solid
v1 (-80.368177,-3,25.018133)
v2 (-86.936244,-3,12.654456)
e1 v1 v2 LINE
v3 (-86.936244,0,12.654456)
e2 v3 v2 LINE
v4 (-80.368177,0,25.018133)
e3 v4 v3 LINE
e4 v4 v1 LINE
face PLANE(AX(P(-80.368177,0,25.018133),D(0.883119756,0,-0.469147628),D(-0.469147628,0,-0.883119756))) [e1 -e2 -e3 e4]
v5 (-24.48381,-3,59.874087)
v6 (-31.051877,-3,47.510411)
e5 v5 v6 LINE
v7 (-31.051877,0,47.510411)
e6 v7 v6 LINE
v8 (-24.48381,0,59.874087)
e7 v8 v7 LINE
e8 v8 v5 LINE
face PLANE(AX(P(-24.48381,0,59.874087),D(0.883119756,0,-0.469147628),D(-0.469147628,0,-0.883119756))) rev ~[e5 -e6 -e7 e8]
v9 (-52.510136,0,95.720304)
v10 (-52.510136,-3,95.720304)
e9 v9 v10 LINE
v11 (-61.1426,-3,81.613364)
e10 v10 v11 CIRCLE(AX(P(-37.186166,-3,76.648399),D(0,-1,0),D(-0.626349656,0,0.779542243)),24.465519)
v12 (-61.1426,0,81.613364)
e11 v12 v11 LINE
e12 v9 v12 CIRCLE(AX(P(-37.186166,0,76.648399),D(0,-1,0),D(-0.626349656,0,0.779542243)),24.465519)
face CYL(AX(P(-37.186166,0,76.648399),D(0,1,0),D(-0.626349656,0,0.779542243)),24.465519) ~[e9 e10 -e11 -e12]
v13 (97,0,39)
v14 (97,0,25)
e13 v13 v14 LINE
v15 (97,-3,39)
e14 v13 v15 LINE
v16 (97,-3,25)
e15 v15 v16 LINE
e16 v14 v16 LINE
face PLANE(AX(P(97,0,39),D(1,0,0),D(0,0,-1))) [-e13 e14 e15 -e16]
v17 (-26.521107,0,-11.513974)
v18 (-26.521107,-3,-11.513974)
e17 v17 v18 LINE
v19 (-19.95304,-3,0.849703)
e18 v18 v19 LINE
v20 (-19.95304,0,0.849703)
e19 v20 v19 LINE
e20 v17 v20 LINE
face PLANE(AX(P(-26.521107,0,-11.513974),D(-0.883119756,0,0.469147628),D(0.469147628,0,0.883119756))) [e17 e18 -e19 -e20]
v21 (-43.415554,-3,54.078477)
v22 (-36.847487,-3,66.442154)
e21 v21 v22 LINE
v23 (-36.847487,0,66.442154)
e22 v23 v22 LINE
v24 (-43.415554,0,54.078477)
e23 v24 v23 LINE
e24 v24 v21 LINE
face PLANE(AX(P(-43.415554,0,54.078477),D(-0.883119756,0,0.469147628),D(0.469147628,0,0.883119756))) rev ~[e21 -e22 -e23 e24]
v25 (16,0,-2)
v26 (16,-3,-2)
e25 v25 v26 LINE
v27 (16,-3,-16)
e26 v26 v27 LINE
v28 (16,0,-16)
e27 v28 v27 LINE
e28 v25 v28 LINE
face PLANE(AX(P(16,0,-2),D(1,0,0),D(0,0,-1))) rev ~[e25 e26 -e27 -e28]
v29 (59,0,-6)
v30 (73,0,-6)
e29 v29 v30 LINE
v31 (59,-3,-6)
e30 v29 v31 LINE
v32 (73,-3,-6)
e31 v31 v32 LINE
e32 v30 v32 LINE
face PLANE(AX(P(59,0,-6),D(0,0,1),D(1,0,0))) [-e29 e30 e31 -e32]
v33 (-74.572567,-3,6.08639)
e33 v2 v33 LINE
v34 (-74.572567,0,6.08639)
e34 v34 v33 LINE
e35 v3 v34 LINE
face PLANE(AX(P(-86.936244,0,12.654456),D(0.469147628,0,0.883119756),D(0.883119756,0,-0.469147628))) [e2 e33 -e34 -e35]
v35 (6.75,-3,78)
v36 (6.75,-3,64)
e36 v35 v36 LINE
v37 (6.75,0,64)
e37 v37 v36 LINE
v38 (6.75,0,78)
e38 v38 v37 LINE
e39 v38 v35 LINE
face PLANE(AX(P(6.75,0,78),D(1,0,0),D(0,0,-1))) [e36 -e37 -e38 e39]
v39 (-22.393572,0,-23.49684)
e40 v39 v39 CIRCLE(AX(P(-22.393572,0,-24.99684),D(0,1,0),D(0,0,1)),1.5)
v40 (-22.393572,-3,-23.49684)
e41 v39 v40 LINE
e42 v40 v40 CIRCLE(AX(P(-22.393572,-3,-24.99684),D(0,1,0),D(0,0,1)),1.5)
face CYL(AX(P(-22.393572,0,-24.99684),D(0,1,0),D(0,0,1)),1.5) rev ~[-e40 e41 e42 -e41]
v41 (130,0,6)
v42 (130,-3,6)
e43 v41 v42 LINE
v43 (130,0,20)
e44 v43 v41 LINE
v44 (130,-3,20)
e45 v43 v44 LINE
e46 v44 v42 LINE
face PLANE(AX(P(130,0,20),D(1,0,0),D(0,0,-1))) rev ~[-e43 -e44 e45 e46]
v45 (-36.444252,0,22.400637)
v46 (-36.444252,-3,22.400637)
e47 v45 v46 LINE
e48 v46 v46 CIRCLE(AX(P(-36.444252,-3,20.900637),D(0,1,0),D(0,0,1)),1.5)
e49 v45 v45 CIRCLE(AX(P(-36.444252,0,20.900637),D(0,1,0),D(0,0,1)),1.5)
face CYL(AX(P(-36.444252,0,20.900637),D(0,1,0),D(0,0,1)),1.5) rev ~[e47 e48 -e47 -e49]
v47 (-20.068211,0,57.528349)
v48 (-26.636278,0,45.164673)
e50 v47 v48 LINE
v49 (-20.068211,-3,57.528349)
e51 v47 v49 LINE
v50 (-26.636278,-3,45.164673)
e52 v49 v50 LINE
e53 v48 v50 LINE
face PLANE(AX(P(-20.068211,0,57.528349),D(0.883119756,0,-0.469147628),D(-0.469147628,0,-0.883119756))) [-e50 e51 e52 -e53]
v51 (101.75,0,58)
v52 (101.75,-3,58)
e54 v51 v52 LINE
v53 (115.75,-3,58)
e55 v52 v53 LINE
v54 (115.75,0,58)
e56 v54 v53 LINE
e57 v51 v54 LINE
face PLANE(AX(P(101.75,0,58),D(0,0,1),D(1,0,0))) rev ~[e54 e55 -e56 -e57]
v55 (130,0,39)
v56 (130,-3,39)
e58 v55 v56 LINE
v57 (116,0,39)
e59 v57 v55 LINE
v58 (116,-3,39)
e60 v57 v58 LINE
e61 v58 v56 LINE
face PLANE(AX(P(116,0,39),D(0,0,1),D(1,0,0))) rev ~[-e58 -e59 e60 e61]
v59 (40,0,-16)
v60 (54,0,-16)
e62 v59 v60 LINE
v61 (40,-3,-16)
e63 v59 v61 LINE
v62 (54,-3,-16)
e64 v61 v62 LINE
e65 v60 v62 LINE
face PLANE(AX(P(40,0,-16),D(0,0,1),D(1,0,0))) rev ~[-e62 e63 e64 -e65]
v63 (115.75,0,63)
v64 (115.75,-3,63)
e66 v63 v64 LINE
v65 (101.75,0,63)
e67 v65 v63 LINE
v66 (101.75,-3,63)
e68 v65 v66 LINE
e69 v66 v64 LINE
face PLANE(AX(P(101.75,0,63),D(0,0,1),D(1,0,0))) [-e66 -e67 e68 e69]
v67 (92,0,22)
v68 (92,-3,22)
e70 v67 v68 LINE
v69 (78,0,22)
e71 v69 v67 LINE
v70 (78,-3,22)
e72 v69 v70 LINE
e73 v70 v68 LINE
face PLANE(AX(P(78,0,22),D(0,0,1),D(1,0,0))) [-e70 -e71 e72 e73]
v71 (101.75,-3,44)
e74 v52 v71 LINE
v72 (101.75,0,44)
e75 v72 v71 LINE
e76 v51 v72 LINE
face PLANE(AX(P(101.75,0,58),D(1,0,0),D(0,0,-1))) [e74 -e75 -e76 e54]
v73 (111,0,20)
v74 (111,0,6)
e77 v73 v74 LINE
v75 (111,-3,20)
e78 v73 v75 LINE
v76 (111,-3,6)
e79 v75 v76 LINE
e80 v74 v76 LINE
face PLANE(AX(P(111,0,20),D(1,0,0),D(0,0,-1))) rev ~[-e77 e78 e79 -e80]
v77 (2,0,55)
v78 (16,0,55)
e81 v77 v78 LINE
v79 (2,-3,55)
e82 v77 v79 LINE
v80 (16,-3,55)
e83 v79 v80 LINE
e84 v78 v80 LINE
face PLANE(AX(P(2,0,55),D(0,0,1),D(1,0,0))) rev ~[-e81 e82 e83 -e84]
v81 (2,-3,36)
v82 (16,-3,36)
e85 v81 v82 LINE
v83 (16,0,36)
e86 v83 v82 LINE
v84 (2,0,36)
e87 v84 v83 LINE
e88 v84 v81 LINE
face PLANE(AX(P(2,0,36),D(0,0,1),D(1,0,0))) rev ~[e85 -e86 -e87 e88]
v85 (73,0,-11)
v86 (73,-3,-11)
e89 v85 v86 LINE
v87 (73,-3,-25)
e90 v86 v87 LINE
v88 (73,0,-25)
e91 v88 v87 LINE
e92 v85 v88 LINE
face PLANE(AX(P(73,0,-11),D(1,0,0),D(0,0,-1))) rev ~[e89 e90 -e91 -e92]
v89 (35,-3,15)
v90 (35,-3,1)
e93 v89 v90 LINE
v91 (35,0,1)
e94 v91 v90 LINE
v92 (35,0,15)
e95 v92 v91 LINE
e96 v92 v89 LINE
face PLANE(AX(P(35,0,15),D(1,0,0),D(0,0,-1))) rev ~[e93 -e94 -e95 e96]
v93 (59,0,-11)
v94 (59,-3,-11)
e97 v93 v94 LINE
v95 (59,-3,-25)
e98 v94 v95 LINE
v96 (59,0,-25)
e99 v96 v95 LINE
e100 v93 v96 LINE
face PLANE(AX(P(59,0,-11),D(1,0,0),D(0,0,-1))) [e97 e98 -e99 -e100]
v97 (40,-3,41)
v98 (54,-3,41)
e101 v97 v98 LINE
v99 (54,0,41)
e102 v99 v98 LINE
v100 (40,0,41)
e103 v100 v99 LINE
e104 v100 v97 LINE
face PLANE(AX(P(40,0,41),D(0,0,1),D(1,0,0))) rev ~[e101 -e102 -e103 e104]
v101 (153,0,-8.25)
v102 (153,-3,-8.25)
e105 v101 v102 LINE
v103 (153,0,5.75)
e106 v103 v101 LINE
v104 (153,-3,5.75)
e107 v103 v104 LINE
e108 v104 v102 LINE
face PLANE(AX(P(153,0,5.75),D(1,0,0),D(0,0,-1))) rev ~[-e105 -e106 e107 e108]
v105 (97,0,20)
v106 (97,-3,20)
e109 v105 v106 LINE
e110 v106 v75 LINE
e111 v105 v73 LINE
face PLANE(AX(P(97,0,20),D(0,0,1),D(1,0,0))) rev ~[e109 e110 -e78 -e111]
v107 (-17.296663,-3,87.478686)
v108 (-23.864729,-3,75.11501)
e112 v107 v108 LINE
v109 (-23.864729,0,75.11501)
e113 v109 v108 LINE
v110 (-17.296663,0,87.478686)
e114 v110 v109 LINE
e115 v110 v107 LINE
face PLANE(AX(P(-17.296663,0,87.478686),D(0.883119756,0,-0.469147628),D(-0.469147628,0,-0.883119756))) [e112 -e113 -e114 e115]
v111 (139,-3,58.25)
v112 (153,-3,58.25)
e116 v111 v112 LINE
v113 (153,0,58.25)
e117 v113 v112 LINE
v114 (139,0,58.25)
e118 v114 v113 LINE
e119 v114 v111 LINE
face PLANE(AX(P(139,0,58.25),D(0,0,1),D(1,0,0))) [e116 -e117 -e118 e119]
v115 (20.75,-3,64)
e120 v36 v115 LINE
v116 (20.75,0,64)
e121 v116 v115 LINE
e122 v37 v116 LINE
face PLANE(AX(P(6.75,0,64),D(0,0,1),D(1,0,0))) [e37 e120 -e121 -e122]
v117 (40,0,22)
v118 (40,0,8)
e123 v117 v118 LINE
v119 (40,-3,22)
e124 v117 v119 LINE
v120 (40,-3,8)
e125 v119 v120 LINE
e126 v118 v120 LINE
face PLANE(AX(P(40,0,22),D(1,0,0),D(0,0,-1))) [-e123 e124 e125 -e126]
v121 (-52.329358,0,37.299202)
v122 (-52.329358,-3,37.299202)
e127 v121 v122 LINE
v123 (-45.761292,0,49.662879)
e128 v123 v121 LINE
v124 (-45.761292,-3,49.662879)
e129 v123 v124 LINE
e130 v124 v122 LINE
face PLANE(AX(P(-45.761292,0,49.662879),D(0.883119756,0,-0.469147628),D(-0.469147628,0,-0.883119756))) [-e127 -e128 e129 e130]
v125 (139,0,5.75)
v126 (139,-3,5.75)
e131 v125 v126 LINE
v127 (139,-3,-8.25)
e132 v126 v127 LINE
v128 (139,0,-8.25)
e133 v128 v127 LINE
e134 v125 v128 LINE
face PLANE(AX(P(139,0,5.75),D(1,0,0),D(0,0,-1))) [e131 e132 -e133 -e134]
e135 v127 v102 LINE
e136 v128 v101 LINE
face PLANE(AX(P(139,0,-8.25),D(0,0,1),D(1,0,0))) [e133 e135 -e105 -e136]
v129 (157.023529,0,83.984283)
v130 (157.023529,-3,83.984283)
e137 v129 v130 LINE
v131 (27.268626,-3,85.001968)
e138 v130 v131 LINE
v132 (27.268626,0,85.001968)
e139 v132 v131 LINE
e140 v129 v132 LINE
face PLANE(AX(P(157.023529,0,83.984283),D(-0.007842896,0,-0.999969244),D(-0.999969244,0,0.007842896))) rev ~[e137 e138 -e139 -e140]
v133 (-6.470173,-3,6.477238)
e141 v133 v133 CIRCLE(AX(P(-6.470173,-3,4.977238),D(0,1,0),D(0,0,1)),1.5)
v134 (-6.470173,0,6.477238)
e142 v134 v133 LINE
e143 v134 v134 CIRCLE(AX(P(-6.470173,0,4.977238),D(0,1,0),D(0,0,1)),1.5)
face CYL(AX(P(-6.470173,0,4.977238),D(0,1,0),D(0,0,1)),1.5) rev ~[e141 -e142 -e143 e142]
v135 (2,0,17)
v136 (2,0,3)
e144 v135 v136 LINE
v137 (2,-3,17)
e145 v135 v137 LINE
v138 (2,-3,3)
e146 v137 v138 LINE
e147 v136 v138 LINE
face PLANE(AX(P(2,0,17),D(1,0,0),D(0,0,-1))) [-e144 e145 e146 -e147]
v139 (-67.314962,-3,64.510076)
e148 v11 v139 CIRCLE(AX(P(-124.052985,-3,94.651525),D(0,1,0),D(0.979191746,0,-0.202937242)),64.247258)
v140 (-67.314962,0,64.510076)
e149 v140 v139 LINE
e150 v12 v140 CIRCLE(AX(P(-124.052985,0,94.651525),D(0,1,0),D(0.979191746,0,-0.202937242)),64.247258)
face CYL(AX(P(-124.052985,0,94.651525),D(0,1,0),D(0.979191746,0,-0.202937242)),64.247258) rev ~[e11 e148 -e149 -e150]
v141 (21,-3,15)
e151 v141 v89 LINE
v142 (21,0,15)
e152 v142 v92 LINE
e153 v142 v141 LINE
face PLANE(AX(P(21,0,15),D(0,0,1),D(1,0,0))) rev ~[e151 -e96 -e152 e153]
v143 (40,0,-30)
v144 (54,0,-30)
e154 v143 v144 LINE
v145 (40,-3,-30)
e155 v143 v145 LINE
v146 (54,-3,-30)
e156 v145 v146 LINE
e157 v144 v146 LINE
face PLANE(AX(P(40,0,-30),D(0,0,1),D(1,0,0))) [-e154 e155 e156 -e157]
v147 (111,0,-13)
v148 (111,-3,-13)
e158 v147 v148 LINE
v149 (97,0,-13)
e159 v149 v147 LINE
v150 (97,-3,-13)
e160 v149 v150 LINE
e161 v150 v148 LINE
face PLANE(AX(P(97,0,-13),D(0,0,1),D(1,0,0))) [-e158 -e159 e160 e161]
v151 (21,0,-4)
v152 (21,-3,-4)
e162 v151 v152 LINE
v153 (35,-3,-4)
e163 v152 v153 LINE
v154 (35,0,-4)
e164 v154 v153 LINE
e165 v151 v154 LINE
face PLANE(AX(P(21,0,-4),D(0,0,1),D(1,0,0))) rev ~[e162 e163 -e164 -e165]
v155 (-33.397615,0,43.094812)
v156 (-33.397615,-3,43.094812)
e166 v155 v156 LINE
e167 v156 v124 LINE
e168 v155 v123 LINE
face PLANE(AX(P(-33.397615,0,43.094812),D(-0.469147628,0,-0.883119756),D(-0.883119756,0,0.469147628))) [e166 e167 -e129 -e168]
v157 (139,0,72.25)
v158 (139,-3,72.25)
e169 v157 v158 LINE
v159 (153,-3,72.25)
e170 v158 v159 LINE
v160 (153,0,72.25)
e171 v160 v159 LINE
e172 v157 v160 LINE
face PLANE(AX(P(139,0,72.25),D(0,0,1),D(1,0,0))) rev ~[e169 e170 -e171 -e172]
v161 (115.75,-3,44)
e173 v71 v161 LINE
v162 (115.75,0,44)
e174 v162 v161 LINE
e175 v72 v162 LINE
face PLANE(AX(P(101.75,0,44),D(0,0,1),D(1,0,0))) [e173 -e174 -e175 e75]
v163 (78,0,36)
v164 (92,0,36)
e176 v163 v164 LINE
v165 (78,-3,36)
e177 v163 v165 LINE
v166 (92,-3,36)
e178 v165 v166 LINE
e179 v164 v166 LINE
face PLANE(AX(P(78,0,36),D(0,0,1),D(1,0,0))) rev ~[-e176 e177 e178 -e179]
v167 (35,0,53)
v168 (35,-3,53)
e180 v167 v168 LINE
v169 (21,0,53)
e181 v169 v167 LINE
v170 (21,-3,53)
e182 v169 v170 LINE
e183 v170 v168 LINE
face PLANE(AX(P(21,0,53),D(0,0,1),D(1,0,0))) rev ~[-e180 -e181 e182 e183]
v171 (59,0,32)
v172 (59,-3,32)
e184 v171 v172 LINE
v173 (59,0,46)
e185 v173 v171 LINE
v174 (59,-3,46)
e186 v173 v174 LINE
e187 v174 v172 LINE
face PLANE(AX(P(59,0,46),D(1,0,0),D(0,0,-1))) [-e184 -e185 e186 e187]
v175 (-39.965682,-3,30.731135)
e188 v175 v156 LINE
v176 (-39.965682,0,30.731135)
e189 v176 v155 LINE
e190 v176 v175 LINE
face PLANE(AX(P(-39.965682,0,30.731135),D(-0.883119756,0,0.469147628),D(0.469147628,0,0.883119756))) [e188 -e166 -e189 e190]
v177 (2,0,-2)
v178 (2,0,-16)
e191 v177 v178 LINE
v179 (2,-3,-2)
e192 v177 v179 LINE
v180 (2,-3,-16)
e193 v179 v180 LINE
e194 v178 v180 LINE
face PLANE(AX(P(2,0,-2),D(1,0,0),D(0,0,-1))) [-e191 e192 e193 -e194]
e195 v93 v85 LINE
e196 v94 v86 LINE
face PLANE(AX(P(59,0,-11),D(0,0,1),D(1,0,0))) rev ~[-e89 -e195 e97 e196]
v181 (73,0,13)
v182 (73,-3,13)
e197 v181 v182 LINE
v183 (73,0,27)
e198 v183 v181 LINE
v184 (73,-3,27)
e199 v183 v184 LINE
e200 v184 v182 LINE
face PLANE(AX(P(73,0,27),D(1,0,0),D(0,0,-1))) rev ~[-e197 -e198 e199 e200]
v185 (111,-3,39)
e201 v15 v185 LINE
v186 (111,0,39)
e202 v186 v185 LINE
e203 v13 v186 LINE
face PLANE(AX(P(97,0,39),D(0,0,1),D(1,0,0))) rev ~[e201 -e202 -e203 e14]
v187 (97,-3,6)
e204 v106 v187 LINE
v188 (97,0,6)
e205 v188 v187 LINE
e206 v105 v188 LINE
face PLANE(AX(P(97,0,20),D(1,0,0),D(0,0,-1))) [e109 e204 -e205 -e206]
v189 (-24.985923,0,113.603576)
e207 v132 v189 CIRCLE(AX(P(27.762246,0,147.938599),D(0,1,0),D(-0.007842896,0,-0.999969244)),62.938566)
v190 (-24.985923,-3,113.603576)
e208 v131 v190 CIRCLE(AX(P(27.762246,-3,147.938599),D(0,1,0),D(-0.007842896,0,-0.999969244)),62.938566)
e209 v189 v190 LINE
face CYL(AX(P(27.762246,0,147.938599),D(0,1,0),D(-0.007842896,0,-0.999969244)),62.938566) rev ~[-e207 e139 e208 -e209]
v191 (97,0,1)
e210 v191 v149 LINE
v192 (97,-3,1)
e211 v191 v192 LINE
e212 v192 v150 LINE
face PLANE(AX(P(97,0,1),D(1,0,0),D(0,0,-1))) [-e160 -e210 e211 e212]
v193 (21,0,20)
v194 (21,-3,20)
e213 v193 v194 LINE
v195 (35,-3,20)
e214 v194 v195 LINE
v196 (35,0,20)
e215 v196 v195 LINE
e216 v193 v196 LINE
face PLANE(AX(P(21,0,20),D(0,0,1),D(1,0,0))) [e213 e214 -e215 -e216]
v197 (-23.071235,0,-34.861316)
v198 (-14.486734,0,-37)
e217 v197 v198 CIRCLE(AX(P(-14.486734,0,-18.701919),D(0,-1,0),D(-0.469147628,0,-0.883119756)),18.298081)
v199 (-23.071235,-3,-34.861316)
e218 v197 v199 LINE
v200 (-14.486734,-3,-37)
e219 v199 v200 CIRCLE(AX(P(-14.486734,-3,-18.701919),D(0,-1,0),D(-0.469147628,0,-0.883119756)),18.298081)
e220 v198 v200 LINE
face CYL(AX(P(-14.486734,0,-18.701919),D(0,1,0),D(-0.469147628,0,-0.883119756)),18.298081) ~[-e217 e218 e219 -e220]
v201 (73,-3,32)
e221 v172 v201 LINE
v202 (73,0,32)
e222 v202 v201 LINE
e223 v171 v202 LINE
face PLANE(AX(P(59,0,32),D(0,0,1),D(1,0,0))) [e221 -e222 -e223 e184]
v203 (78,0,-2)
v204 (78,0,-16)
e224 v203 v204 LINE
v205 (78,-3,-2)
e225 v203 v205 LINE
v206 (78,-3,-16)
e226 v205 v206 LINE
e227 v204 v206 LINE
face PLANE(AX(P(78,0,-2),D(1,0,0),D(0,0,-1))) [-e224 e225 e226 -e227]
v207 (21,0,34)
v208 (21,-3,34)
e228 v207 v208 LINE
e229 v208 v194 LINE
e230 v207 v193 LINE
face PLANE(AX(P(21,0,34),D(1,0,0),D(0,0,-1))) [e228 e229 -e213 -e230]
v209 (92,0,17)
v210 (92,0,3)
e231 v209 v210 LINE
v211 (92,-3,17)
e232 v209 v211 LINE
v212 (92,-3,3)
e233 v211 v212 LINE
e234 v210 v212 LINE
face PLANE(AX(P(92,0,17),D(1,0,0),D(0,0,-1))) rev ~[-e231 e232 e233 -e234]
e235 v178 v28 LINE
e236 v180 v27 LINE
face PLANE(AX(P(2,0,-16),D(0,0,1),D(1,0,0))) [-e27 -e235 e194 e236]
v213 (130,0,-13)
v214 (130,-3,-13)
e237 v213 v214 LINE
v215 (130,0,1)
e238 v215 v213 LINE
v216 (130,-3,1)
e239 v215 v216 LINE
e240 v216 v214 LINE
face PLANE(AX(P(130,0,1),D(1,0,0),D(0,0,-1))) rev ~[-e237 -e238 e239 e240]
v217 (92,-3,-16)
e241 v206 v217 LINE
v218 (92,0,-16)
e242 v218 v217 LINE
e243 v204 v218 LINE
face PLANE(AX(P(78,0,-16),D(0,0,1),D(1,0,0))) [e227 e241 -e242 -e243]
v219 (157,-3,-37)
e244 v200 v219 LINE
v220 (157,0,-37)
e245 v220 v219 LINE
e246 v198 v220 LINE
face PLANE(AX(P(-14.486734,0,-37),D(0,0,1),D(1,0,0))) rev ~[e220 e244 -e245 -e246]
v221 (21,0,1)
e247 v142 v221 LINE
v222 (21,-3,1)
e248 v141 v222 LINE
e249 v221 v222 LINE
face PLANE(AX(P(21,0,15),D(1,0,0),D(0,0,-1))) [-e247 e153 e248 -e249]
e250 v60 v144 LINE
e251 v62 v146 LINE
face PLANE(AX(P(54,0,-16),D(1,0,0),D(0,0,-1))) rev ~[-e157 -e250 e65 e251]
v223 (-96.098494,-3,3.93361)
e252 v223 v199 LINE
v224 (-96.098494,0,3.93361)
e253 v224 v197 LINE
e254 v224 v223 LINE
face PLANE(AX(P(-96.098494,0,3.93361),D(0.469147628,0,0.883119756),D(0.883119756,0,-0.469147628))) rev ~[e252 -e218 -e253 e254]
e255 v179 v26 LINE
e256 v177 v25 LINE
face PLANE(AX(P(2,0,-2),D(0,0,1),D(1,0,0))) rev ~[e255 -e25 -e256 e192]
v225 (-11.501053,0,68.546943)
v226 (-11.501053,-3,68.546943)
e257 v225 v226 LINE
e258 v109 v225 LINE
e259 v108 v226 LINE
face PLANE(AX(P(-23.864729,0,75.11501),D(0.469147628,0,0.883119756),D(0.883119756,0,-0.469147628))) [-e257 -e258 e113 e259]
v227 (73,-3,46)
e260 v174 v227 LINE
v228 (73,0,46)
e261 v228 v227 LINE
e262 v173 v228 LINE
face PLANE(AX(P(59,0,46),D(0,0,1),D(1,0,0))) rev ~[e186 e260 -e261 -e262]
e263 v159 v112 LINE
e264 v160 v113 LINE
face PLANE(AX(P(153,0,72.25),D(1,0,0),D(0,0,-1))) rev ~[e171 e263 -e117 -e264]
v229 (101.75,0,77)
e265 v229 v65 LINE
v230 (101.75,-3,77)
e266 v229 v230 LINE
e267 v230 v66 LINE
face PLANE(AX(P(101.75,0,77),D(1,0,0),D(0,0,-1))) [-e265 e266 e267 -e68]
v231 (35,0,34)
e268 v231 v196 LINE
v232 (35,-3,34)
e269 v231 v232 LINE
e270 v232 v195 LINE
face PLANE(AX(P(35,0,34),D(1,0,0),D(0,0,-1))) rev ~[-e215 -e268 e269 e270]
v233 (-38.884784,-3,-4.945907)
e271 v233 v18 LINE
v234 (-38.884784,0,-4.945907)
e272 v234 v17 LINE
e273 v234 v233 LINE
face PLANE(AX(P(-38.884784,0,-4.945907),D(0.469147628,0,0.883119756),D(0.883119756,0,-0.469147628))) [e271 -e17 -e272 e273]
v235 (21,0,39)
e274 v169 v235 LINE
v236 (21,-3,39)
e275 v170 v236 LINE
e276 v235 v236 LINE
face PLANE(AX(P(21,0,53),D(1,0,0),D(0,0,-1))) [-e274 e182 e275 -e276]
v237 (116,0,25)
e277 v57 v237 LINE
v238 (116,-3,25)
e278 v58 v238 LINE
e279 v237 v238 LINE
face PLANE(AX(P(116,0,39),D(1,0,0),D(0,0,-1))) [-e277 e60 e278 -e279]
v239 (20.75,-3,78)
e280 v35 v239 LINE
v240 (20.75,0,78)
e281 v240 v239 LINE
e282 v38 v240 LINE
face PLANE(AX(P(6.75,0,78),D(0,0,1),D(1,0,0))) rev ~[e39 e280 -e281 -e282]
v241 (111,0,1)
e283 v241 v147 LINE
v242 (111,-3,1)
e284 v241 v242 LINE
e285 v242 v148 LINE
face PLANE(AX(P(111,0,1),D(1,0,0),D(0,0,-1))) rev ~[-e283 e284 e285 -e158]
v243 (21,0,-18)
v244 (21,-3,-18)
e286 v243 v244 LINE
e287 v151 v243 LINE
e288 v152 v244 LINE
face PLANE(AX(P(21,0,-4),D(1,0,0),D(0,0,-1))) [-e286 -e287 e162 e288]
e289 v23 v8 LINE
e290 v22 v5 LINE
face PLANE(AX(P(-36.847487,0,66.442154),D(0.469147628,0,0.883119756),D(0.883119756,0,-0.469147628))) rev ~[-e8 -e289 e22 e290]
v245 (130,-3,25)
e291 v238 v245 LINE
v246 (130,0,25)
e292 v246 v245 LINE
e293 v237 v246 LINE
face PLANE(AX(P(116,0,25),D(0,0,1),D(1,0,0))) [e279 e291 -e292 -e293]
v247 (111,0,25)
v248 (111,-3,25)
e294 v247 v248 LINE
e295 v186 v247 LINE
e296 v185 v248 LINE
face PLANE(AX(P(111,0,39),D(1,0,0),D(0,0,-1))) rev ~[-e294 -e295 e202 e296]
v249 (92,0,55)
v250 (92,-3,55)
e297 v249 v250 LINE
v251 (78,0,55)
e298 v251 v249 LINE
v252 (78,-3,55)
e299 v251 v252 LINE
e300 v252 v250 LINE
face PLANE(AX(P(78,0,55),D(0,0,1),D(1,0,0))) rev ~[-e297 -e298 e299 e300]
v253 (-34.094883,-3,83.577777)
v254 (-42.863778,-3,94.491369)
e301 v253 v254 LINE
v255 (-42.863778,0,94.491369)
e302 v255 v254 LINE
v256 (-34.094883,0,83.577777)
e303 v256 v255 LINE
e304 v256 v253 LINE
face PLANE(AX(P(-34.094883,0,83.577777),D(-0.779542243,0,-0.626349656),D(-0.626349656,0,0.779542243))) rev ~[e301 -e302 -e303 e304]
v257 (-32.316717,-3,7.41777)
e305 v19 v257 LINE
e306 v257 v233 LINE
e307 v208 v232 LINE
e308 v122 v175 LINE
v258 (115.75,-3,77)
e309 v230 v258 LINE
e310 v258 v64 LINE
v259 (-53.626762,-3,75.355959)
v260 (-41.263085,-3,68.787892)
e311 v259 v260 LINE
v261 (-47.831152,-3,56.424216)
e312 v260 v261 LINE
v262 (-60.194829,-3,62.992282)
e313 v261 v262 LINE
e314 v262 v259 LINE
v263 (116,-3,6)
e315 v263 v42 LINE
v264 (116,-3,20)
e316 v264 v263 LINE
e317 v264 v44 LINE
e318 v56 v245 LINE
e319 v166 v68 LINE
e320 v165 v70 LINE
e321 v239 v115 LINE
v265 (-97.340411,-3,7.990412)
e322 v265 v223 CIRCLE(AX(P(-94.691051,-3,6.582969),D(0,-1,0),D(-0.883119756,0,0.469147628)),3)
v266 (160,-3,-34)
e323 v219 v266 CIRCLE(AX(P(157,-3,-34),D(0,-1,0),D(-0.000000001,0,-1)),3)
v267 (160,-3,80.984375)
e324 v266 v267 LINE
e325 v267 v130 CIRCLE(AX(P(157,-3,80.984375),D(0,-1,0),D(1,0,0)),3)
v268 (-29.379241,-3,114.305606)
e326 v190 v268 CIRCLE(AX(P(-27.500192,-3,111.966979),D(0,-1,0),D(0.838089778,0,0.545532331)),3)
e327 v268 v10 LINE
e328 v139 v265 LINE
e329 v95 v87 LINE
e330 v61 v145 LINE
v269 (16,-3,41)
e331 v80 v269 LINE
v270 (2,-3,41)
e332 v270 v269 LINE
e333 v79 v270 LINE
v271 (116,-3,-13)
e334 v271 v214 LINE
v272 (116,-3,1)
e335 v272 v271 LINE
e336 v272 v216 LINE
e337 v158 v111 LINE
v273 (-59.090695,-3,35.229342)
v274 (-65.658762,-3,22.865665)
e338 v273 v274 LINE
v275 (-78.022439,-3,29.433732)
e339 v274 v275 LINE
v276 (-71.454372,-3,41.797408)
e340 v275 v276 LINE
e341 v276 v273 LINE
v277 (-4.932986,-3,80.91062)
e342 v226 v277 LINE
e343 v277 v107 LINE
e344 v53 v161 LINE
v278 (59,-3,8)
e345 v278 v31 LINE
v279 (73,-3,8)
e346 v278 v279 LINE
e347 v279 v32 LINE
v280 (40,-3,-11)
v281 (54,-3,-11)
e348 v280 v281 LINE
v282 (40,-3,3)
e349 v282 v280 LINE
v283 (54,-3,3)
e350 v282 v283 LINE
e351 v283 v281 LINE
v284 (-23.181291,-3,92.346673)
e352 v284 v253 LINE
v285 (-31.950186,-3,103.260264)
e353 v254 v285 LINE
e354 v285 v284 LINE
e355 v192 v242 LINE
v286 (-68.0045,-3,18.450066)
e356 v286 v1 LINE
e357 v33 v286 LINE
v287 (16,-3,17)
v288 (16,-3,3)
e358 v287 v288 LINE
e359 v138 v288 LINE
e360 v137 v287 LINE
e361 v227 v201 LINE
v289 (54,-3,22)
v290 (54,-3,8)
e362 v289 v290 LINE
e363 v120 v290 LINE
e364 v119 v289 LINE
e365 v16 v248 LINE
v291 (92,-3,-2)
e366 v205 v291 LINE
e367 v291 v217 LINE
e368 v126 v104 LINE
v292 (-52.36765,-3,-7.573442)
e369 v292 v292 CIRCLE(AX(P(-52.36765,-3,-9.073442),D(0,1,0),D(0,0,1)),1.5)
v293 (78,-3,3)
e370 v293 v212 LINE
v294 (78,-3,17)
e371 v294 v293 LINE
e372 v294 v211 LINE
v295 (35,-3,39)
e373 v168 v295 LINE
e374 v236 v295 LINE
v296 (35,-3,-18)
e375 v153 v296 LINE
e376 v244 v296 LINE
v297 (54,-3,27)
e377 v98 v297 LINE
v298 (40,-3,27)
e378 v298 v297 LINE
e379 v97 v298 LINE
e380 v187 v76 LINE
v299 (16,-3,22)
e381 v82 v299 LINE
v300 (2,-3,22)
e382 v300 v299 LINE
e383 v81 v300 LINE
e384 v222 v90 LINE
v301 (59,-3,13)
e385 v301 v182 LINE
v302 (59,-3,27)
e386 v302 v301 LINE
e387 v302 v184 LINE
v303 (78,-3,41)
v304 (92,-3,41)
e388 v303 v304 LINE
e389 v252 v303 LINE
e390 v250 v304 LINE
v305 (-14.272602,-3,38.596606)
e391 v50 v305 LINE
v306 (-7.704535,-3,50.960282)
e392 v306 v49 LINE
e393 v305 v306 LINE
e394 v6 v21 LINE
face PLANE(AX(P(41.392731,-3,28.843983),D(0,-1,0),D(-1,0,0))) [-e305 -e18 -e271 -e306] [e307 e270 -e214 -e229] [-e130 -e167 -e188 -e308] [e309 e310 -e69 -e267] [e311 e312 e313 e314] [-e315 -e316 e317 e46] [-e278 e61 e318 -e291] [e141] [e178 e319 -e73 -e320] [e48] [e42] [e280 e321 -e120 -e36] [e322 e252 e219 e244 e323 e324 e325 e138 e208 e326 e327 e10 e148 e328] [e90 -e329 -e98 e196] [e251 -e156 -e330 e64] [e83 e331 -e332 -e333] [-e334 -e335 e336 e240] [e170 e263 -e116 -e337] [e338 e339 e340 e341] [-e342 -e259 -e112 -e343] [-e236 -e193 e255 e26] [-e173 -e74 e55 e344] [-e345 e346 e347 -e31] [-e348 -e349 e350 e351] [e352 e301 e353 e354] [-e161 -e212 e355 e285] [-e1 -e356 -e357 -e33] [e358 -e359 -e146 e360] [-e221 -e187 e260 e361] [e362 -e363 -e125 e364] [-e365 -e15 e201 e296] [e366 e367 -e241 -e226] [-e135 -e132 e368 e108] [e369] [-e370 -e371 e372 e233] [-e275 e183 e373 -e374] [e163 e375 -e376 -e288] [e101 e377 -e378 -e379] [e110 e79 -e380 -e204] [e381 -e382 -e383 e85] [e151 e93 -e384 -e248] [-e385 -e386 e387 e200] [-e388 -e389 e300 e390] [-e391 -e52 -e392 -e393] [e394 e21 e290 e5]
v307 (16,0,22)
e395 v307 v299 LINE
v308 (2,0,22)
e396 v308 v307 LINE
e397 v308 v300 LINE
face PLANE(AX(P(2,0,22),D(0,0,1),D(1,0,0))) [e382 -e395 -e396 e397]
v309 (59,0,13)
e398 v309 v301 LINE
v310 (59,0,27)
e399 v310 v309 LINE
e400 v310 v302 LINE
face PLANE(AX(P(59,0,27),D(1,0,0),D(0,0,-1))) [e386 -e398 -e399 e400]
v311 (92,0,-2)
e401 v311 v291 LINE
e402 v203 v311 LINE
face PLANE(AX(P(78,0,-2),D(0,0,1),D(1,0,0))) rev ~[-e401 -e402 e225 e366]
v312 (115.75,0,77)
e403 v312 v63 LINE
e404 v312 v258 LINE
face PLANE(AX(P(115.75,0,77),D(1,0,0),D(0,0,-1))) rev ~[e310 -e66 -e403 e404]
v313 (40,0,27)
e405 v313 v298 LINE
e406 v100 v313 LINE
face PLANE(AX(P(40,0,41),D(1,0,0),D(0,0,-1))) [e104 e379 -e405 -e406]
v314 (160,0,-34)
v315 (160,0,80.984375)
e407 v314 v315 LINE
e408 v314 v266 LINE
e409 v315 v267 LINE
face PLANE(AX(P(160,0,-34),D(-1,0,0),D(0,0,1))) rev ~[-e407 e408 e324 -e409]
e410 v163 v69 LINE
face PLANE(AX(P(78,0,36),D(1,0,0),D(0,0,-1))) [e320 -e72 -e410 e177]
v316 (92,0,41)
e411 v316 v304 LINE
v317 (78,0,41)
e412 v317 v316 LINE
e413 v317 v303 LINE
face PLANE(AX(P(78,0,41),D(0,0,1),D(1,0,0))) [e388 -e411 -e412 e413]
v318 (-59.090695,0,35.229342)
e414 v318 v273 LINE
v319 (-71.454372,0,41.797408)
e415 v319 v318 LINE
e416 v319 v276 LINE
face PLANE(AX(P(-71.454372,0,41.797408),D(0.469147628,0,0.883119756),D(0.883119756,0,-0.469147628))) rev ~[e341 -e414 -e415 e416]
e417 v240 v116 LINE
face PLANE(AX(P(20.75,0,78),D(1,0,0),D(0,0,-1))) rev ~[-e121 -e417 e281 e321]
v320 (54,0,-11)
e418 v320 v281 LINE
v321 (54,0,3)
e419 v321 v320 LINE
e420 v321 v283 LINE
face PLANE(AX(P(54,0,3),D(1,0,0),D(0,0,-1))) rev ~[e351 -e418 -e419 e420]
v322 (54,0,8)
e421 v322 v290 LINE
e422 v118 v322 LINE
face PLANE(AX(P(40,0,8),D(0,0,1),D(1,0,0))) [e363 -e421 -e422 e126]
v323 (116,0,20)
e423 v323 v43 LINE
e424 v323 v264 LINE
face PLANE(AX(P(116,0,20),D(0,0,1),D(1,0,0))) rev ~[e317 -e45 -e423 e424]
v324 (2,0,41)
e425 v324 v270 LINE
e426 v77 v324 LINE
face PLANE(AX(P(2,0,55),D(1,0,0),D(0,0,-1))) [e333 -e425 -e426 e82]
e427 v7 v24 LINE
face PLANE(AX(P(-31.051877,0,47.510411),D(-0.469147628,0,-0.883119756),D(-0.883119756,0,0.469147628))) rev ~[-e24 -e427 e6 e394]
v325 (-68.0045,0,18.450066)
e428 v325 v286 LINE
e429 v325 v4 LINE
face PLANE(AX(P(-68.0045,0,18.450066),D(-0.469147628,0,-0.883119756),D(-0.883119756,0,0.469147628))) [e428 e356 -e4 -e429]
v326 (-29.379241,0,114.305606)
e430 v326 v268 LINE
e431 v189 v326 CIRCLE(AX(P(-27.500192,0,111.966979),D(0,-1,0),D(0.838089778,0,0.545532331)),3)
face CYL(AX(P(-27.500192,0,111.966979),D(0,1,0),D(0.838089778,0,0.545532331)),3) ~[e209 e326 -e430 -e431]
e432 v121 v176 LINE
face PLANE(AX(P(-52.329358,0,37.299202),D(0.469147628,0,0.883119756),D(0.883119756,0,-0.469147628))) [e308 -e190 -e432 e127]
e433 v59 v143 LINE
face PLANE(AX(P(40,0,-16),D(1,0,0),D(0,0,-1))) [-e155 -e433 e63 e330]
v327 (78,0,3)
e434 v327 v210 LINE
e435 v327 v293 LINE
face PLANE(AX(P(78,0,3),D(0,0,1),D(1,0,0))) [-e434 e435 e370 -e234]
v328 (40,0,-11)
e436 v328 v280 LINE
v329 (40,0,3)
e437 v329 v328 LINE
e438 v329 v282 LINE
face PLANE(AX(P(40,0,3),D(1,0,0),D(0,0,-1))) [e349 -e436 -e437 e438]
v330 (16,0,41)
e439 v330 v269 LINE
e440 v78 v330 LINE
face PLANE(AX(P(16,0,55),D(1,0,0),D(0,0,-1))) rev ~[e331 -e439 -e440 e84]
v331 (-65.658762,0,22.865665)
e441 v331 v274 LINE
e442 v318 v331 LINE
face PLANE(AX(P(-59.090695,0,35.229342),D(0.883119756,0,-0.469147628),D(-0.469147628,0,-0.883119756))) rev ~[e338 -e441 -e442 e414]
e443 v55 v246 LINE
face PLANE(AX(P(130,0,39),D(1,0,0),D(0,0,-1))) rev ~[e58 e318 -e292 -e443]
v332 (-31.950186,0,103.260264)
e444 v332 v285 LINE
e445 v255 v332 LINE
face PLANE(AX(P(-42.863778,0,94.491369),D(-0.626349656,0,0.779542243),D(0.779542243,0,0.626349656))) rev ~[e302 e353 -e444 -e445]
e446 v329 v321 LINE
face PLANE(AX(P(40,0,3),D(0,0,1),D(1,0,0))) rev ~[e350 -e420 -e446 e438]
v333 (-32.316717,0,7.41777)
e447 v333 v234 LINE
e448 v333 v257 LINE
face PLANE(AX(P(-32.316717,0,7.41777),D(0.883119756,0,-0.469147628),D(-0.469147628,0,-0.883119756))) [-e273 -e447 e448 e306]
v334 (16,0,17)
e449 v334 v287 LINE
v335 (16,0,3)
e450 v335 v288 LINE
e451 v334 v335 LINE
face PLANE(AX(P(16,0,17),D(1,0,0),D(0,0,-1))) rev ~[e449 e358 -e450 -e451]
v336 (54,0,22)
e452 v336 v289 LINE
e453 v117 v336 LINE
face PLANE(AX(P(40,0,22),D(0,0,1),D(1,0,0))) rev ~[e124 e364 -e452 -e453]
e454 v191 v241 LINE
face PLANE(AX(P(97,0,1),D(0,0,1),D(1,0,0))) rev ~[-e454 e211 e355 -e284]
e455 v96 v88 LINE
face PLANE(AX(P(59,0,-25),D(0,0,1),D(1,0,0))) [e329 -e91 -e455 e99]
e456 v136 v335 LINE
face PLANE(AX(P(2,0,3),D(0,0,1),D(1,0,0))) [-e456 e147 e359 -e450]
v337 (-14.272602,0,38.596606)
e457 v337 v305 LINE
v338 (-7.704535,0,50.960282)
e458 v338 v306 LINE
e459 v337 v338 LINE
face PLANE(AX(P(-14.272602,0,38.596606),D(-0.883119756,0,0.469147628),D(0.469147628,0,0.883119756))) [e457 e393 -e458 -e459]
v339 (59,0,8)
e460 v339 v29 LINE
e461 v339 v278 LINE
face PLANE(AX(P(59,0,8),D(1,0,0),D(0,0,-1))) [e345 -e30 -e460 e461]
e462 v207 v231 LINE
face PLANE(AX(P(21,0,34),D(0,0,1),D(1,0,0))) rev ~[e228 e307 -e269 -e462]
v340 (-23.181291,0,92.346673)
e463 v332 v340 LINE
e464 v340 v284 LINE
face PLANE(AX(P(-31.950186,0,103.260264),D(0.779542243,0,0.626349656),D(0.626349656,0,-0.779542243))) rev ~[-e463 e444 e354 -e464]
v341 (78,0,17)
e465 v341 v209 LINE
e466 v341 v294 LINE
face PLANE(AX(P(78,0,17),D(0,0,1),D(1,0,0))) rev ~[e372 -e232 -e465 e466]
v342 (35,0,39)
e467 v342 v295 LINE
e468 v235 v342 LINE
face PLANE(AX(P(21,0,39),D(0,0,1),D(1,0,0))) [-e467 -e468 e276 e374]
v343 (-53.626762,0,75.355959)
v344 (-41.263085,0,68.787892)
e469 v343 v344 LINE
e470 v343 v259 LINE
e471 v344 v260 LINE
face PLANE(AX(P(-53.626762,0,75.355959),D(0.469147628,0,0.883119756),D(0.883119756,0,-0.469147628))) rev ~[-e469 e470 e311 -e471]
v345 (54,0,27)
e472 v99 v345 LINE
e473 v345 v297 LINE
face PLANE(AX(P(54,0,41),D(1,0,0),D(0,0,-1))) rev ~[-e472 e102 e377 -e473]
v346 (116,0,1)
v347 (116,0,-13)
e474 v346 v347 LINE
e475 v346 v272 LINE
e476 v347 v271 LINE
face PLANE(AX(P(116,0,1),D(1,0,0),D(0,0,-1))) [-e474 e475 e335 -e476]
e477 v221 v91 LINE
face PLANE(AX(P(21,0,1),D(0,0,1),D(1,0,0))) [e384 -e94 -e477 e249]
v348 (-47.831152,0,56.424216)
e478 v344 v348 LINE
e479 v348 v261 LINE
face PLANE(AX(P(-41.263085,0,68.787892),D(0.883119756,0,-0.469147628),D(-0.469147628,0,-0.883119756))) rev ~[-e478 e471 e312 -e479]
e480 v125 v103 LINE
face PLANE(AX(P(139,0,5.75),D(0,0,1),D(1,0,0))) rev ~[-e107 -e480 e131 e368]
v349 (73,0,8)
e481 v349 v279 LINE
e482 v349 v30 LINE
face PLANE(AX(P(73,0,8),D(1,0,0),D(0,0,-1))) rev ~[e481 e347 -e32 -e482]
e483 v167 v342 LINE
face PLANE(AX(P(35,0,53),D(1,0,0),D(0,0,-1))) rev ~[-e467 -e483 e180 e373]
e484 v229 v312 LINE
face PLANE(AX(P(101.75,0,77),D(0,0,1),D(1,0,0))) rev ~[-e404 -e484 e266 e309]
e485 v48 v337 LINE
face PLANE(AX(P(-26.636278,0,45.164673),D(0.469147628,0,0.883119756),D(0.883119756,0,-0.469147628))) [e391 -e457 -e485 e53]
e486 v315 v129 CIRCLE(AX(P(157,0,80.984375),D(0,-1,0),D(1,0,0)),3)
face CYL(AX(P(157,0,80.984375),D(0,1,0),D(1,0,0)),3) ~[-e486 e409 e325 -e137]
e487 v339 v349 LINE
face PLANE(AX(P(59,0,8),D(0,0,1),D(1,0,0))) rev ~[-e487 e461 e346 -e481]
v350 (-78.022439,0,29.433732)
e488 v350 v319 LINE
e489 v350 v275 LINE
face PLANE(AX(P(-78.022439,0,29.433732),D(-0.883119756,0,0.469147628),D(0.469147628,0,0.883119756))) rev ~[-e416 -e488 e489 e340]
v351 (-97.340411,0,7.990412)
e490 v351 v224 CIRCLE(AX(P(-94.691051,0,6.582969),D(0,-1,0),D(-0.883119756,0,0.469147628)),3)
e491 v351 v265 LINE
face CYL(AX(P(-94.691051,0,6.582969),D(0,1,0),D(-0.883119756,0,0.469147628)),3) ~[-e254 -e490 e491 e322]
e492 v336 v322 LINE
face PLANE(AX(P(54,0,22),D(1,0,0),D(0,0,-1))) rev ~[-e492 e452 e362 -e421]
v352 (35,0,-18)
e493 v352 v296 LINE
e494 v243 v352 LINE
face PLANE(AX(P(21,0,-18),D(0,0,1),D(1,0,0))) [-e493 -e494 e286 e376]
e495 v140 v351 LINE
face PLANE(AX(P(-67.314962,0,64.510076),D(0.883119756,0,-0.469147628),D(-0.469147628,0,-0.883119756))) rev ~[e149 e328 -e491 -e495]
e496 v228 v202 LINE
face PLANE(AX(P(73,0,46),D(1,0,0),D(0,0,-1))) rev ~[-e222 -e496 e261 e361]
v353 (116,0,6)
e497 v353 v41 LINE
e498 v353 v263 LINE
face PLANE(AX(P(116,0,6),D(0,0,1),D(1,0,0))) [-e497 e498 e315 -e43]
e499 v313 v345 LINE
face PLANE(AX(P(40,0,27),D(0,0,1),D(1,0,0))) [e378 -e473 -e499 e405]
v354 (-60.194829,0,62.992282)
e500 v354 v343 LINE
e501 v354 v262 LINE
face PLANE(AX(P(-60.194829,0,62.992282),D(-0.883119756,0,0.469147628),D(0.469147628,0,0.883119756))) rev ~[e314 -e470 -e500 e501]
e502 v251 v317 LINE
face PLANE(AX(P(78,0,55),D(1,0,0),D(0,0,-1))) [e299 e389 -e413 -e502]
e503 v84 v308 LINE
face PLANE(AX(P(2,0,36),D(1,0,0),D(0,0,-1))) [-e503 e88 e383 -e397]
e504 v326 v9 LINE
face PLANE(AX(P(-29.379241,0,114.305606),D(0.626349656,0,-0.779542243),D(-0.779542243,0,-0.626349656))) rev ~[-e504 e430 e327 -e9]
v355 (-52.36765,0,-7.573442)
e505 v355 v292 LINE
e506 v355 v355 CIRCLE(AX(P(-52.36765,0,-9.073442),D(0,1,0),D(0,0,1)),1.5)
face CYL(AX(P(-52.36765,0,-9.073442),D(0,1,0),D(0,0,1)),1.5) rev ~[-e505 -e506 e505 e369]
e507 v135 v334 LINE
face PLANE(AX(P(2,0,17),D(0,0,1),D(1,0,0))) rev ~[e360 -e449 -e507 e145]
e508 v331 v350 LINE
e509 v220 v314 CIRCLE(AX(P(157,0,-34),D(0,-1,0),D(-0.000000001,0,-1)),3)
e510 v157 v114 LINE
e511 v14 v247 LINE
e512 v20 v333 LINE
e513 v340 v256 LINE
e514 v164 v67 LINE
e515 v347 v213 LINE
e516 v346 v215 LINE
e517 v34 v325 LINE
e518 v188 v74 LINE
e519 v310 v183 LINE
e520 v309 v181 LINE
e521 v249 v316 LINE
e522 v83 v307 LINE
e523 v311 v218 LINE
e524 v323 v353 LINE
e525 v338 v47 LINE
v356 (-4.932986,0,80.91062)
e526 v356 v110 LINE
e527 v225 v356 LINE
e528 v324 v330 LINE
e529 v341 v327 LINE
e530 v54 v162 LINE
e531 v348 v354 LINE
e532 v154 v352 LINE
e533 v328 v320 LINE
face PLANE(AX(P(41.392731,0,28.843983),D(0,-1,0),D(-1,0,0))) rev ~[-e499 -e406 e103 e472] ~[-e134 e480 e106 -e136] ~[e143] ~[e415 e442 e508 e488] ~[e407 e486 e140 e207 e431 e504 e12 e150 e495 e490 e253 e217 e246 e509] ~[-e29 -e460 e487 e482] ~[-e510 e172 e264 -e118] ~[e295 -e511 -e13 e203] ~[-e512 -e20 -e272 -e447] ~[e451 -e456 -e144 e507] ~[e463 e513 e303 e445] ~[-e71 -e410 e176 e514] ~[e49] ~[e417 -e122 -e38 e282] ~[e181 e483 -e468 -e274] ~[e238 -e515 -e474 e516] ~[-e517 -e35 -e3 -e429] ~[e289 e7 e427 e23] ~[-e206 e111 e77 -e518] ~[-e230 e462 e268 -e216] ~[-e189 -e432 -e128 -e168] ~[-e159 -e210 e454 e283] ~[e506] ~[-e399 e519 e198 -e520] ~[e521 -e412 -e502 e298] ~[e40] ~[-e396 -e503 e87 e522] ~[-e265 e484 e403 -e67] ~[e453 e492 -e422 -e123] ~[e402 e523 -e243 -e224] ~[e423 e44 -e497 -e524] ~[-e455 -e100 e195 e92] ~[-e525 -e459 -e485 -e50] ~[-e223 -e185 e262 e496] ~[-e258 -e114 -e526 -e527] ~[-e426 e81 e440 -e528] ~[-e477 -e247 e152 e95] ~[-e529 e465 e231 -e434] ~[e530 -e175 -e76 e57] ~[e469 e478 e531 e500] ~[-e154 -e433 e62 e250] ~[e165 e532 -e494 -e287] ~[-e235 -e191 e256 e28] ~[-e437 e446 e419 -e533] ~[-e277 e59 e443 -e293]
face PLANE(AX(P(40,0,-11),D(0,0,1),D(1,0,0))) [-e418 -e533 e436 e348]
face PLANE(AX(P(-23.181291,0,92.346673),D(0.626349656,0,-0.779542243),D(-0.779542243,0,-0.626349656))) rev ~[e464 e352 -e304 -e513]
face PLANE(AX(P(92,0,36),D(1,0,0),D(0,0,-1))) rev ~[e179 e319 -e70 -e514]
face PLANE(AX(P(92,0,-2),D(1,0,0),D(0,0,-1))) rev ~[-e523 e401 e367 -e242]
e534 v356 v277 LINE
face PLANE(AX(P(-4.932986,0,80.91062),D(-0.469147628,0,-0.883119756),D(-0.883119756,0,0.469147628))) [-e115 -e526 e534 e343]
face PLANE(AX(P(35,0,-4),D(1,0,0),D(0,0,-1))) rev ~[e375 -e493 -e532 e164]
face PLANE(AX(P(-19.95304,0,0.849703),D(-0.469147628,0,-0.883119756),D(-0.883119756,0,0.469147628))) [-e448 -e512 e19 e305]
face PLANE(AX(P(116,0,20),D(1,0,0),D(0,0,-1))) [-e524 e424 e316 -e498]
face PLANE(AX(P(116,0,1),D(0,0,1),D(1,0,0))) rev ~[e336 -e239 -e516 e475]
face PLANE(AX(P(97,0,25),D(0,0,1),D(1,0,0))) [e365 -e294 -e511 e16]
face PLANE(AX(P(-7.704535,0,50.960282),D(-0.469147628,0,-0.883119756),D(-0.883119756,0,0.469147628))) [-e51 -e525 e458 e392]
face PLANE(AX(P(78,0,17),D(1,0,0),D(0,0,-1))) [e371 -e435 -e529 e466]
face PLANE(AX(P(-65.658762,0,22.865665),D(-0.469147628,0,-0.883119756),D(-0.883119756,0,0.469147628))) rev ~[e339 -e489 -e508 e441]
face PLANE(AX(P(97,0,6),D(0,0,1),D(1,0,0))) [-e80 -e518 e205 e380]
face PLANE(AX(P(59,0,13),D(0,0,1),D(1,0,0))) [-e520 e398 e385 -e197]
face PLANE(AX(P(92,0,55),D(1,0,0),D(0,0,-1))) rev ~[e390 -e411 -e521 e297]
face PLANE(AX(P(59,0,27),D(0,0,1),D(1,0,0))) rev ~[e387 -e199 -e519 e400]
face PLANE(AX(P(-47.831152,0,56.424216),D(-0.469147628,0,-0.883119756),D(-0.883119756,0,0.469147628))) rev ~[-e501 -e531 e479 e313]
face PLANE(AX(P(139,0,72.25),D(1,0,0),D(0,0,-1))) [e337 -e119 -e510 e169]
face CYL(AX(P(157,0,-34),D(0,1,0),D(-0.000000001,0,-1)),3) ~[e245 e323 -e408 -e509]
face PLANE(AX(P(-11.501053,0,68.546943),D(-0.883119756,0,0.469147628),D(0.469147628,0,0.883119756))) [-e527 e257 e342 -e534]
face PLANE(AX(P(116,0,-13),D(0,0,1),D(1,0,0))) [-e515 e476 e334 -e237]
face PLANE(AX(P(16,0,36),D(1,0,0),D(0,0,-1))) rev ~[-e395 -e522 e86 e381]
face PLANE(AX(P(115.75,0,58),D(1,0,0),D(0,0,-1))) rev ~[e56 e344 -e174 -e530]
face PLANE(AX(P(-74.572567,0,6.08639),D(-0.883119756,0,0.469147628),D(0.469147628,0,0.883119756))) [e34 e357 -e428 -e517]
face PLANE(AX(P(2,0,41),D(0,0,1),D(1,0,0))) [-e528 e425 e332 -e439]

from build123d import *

# Parameters (mm, degrees)
SKETCH3_R   = 1.5
SKETCH3_W   = 14
SKETCH3_H   = 14
LASER_DEPTH = 3


with BuildPart() as part:
    # Sketch3 → Laser (new body)
    with BuildSketch(Plane(origin=(0, 0, 0), x_dir=(1, 0, 0), z_dir=(0, 1, 0))):
        with BuildLine():
            Line((-14.486734177, 37), (157, 37))
            ThreePointArc((157, 37), (159.121320344, 36.121320344), (160, 34))
            Line((160, 34), (160, -80.984375239))
            ThreePointArc((160, -80.984375239), (159.129622744, -83.097360561), (157.023528688, -83.984282971))
            Line((157.023528688, -83.984282971), (27.26862569, -85.001968485))
            ThreePointArc((27.26862569, -85.001968485), (-2.456705292, -92.729196832), (-24.985922812, -113.603576292))
            ThreePointArc((-24.985922812, -113.603576292), (-27.026813158, -114.929395936), (-29.379241112, -114.305606027))
            Line((-29.379241112, -114.305606027), (-52.510135606, -95.72030429))
            ThreePointArc((-52.510135606, -95.72030429), (-58.054538693, -89.41838891), (-61.142600429, -81.61336375))
            ThreePointArc((-61.142600429, -81.61336375), (-63.620659677, -72.842256523), (-67.314962408, -64.51007632))
            Line((-67.314962408, -64.51007632), (-97.34041061, -7.990411949))
            ThreePointArc((-97.34041061, -7.990411949), (-97.559643654, -5.704801569), (-96.098494227, -3.933609797))
            Line((-96.098494227, -3.933609797), (-23.071235452, 34.86131583))
            ThreePointArc((-23.071235452, 34.86131583), (-18.910183965, 36.457280449), (-14.486734177, 37))
        make_face()
        with Locations(Location((-22.393572022, 24.996840478, 0), (0, 0, 270))):
            Circle(SKETCH3_R, mode=Mode.SUBTRACT)
        with Locations(Location((-6.470173498, -4.977237981, 0), (0, 0, 270))):
            Circle(SKETCH3_R, mode=Mode.SUBTRACT)
        with Locations(Location((-36.444251957, -20.900636504, 0), (0, 0, 270))):
            Circle(SKETCH3_R, mode=Mode.SUBTRACT)
        with Locations(Location((-52.367650481, 9.073441955, 0), (0, 0, 270))):
            Circle(SKETCH3_R, mode=Mode.SUBTRACT)
        with Locations((9, -10)):
            Rectangle(SKETCH3_W, SKETCH3_H, mode=Mode.SUBTRACT)
        with Locations((9, 9)):
            Rectangle(SKETCH3_W, SKETCH3_H, mode=Mode.SUBTRACT)
        with Locations((28, 11)):
            Rectangle(SKETCH3_W, SKETCH3_H, mode=Mode.SUBTRACT)
        with Locations((47, 23)):
            Rectangle(SKETCH3_W, SKETCH3_H, mode=Mode.SUBTRACT)
        with Locations((66, 18)):
            Rectangle(SKETCH3_W, SKETCH3_H, mode=Mode.SUBTRACT)
        with Locations((85, 9)):
            Rectangle(SKETCH3_W, SKETCH3_H, mode=Mode.SUBTRACT)
        with Locations((104, 6)):
            Rectangle(SKETCH3_W, SKETCH3_H, mode=Mode.SUBTRACT)
        with Locations((123, 6)):
            Rectangle(SKETCH3_W, SKETCH3_H, mode=Mode.SUBTRACT)
        with Locations((146, 1.25)):
            Rectangle(SKETCH3_W, SKETCH3_H, mode=Mode.SUBTRACT)
        with Locations((146, -65.25)):
            Rectangle(SKETCH3_W, SKETCH3_H, mode=Mode.SUBTRACT)
        with Locations((28, -8)):
            Rectangle(SKETCH3_W, SKETCH3_H, mode=Mode.SUBTRACT)
        with Locations((47, 4)):
            Rectangle(SKETCH3_W, SKETCH3_H, mode=Mode.SUBTRACT)
        with Locations((66, -1)):
            Rectangle(SKETCH3_W, SKETCH3_H, mode=Mode.SUBTRACT)
        with Locations((85, -10)):
            Rectangle(SKETCH3_W, SKETCH3_H, mode=Mode.SUBTRACT)
        with Locations((104, -13)):
            Rectangle(SKETCH3_W, SKETCH3_H, mode=Mode.SUBTRACT)
        with Locations((123, -13)):
            Rectangle(SKETCH3_W, SKETCH3_H, mode=Mode.SUBTRACT)
        with Locations((9, -29)):
            Rectangle(SKETCH3_W, SKETCH3_H, mode=Mode.SUBTRACT)
        with Locations((28, -27)):
            Rectangle(SKETCH3_W, SKETCH3_H, mode=Mode.SUBTRACT)
        with Locations((47, -15)):
            Rectangle(SKETCH3_W, SKETCH3_H, mode=Mode.SUBTRACT)
        with Locations((66, -20)):
            Rectangle(SKETCH3_W, SKETCH3_H, mode=Mode.SUBTRACT)
        with Locations((85, -29)):
            Rectangle(SKETCH3_W, SKETCH3_H, mode=Mode.SUBTRACT)
        with Locations((104, -32)):
            Rectangle(SKETCH3_W, SKETCH3_H, mode=Mode.SUBTRACT)
        with Locations((123, -32)):
            Rectangle(SKETCH3_W, SKETCH3_H, mode=Mode.SUBTRACT)
        with Locations((9, -48)):
            Rectangle(SKETCH3_W, SKETCH3_H, mode=Mode.SUBTRACT)
        with Locations((28, -46)):
            Rectangle(SKETCH3_W, SKETCH3_H, mode=Mode.SUBTRACT)
        with Locations((47, -34)):
            Rectangle(SKETCH3_W, SKETCH3_H, mode=Mode.SUBTRACT)
        with Locations((66, -39)):
            Rectangle(SKETCH3_W, SKETCH3_H, mode=Mode.SUBTRACT)
        with Locations((85, -48)):
            Rectangle(SKETCH3_W, SKETCH3_H, mode=Mode.SUBTRACT)
        Polygon((-86.936243665, -12.654456356), (-74.572567085, -6.086389562), (-68.004500291, -18.450066143), (-80.368176871, -25.018132937), align=None, mode=Mode.SUBTRACT)
        with Locations((13.75, -71)):
            Rectangle(SKETCH3_W, SKETCH3_H, mode=Mode.SUBTRACT)
        with Locations((108.75, -51)):
            Rectangle(SKETCH3_W, SKETCH3_H, mode=Mode.SUBTRACT)
        with Locations((108.75, -70)):
            Rectangle(SKETCH3_W, SKETCH3_H, mode=Mode.SUBTRACT)
        Polygon((-65.65876215, -22.865664922), (-78.022438731, -29.433731716), (-71.454371937, -41.797408296), (-59.090695356, -35.229341502), align=None, mode=Mode.SUBTRACT)
        Polygon((-52.329358437, -37.29920214), (-39.965681856, -30.731135346), (-33.397615062, -43.094811927), (-45.761291642, -49.662878721), align=None, mode=Mode.SUBTRACT)
        Polygon((-26.636278142, -45.164672565), (-14.272601562, -38.596605771), (-7.704534768, -50.960282351), (-20.068211348, -57.528349145), align=None, mode=Mode.SUBTRACT)
        Polygon((-31.051876921, -47.510410705), (-43.415553502, -54.078477499), (-36.847486708, -66.44215408), (-24.483810127, -59.874087286), align=None, mode=Mode.SUBTRACT)
        Polygon((-47.831152281, -56.42421564), (-60.194828861, -62.992282434), (-53.626762067, -75.355959015), (-41.263085486, -68.787892221), align=None, mode=Mode.SUBTRACT)
        Polygon((-34.094882695, -83.577777362), (-42.863777875, -94.491368765), (-31.950186473, -103.260263946), (-23.181291292, -92.346672543), align=None, mode=Mode.SUBTRACT)
        Polygon((-23.864729376, -75.115009761), (-11.501052796, -68.546942967), (-4.932986002, -80.910619548), (-17.296662582, -87.478686342), align=None, mode=Mode.SUBTRACT)
        Polygon((-38.884783677, 4.94590688), (-26.521107096, 11.513973674), (-19.953040302, -0.849702906), (-32.316716883, -7.4177697), align=None, mode=Mode.SUBTRACT)
    extrude(amount=-LASER_DEPTH)


solid = part.part
